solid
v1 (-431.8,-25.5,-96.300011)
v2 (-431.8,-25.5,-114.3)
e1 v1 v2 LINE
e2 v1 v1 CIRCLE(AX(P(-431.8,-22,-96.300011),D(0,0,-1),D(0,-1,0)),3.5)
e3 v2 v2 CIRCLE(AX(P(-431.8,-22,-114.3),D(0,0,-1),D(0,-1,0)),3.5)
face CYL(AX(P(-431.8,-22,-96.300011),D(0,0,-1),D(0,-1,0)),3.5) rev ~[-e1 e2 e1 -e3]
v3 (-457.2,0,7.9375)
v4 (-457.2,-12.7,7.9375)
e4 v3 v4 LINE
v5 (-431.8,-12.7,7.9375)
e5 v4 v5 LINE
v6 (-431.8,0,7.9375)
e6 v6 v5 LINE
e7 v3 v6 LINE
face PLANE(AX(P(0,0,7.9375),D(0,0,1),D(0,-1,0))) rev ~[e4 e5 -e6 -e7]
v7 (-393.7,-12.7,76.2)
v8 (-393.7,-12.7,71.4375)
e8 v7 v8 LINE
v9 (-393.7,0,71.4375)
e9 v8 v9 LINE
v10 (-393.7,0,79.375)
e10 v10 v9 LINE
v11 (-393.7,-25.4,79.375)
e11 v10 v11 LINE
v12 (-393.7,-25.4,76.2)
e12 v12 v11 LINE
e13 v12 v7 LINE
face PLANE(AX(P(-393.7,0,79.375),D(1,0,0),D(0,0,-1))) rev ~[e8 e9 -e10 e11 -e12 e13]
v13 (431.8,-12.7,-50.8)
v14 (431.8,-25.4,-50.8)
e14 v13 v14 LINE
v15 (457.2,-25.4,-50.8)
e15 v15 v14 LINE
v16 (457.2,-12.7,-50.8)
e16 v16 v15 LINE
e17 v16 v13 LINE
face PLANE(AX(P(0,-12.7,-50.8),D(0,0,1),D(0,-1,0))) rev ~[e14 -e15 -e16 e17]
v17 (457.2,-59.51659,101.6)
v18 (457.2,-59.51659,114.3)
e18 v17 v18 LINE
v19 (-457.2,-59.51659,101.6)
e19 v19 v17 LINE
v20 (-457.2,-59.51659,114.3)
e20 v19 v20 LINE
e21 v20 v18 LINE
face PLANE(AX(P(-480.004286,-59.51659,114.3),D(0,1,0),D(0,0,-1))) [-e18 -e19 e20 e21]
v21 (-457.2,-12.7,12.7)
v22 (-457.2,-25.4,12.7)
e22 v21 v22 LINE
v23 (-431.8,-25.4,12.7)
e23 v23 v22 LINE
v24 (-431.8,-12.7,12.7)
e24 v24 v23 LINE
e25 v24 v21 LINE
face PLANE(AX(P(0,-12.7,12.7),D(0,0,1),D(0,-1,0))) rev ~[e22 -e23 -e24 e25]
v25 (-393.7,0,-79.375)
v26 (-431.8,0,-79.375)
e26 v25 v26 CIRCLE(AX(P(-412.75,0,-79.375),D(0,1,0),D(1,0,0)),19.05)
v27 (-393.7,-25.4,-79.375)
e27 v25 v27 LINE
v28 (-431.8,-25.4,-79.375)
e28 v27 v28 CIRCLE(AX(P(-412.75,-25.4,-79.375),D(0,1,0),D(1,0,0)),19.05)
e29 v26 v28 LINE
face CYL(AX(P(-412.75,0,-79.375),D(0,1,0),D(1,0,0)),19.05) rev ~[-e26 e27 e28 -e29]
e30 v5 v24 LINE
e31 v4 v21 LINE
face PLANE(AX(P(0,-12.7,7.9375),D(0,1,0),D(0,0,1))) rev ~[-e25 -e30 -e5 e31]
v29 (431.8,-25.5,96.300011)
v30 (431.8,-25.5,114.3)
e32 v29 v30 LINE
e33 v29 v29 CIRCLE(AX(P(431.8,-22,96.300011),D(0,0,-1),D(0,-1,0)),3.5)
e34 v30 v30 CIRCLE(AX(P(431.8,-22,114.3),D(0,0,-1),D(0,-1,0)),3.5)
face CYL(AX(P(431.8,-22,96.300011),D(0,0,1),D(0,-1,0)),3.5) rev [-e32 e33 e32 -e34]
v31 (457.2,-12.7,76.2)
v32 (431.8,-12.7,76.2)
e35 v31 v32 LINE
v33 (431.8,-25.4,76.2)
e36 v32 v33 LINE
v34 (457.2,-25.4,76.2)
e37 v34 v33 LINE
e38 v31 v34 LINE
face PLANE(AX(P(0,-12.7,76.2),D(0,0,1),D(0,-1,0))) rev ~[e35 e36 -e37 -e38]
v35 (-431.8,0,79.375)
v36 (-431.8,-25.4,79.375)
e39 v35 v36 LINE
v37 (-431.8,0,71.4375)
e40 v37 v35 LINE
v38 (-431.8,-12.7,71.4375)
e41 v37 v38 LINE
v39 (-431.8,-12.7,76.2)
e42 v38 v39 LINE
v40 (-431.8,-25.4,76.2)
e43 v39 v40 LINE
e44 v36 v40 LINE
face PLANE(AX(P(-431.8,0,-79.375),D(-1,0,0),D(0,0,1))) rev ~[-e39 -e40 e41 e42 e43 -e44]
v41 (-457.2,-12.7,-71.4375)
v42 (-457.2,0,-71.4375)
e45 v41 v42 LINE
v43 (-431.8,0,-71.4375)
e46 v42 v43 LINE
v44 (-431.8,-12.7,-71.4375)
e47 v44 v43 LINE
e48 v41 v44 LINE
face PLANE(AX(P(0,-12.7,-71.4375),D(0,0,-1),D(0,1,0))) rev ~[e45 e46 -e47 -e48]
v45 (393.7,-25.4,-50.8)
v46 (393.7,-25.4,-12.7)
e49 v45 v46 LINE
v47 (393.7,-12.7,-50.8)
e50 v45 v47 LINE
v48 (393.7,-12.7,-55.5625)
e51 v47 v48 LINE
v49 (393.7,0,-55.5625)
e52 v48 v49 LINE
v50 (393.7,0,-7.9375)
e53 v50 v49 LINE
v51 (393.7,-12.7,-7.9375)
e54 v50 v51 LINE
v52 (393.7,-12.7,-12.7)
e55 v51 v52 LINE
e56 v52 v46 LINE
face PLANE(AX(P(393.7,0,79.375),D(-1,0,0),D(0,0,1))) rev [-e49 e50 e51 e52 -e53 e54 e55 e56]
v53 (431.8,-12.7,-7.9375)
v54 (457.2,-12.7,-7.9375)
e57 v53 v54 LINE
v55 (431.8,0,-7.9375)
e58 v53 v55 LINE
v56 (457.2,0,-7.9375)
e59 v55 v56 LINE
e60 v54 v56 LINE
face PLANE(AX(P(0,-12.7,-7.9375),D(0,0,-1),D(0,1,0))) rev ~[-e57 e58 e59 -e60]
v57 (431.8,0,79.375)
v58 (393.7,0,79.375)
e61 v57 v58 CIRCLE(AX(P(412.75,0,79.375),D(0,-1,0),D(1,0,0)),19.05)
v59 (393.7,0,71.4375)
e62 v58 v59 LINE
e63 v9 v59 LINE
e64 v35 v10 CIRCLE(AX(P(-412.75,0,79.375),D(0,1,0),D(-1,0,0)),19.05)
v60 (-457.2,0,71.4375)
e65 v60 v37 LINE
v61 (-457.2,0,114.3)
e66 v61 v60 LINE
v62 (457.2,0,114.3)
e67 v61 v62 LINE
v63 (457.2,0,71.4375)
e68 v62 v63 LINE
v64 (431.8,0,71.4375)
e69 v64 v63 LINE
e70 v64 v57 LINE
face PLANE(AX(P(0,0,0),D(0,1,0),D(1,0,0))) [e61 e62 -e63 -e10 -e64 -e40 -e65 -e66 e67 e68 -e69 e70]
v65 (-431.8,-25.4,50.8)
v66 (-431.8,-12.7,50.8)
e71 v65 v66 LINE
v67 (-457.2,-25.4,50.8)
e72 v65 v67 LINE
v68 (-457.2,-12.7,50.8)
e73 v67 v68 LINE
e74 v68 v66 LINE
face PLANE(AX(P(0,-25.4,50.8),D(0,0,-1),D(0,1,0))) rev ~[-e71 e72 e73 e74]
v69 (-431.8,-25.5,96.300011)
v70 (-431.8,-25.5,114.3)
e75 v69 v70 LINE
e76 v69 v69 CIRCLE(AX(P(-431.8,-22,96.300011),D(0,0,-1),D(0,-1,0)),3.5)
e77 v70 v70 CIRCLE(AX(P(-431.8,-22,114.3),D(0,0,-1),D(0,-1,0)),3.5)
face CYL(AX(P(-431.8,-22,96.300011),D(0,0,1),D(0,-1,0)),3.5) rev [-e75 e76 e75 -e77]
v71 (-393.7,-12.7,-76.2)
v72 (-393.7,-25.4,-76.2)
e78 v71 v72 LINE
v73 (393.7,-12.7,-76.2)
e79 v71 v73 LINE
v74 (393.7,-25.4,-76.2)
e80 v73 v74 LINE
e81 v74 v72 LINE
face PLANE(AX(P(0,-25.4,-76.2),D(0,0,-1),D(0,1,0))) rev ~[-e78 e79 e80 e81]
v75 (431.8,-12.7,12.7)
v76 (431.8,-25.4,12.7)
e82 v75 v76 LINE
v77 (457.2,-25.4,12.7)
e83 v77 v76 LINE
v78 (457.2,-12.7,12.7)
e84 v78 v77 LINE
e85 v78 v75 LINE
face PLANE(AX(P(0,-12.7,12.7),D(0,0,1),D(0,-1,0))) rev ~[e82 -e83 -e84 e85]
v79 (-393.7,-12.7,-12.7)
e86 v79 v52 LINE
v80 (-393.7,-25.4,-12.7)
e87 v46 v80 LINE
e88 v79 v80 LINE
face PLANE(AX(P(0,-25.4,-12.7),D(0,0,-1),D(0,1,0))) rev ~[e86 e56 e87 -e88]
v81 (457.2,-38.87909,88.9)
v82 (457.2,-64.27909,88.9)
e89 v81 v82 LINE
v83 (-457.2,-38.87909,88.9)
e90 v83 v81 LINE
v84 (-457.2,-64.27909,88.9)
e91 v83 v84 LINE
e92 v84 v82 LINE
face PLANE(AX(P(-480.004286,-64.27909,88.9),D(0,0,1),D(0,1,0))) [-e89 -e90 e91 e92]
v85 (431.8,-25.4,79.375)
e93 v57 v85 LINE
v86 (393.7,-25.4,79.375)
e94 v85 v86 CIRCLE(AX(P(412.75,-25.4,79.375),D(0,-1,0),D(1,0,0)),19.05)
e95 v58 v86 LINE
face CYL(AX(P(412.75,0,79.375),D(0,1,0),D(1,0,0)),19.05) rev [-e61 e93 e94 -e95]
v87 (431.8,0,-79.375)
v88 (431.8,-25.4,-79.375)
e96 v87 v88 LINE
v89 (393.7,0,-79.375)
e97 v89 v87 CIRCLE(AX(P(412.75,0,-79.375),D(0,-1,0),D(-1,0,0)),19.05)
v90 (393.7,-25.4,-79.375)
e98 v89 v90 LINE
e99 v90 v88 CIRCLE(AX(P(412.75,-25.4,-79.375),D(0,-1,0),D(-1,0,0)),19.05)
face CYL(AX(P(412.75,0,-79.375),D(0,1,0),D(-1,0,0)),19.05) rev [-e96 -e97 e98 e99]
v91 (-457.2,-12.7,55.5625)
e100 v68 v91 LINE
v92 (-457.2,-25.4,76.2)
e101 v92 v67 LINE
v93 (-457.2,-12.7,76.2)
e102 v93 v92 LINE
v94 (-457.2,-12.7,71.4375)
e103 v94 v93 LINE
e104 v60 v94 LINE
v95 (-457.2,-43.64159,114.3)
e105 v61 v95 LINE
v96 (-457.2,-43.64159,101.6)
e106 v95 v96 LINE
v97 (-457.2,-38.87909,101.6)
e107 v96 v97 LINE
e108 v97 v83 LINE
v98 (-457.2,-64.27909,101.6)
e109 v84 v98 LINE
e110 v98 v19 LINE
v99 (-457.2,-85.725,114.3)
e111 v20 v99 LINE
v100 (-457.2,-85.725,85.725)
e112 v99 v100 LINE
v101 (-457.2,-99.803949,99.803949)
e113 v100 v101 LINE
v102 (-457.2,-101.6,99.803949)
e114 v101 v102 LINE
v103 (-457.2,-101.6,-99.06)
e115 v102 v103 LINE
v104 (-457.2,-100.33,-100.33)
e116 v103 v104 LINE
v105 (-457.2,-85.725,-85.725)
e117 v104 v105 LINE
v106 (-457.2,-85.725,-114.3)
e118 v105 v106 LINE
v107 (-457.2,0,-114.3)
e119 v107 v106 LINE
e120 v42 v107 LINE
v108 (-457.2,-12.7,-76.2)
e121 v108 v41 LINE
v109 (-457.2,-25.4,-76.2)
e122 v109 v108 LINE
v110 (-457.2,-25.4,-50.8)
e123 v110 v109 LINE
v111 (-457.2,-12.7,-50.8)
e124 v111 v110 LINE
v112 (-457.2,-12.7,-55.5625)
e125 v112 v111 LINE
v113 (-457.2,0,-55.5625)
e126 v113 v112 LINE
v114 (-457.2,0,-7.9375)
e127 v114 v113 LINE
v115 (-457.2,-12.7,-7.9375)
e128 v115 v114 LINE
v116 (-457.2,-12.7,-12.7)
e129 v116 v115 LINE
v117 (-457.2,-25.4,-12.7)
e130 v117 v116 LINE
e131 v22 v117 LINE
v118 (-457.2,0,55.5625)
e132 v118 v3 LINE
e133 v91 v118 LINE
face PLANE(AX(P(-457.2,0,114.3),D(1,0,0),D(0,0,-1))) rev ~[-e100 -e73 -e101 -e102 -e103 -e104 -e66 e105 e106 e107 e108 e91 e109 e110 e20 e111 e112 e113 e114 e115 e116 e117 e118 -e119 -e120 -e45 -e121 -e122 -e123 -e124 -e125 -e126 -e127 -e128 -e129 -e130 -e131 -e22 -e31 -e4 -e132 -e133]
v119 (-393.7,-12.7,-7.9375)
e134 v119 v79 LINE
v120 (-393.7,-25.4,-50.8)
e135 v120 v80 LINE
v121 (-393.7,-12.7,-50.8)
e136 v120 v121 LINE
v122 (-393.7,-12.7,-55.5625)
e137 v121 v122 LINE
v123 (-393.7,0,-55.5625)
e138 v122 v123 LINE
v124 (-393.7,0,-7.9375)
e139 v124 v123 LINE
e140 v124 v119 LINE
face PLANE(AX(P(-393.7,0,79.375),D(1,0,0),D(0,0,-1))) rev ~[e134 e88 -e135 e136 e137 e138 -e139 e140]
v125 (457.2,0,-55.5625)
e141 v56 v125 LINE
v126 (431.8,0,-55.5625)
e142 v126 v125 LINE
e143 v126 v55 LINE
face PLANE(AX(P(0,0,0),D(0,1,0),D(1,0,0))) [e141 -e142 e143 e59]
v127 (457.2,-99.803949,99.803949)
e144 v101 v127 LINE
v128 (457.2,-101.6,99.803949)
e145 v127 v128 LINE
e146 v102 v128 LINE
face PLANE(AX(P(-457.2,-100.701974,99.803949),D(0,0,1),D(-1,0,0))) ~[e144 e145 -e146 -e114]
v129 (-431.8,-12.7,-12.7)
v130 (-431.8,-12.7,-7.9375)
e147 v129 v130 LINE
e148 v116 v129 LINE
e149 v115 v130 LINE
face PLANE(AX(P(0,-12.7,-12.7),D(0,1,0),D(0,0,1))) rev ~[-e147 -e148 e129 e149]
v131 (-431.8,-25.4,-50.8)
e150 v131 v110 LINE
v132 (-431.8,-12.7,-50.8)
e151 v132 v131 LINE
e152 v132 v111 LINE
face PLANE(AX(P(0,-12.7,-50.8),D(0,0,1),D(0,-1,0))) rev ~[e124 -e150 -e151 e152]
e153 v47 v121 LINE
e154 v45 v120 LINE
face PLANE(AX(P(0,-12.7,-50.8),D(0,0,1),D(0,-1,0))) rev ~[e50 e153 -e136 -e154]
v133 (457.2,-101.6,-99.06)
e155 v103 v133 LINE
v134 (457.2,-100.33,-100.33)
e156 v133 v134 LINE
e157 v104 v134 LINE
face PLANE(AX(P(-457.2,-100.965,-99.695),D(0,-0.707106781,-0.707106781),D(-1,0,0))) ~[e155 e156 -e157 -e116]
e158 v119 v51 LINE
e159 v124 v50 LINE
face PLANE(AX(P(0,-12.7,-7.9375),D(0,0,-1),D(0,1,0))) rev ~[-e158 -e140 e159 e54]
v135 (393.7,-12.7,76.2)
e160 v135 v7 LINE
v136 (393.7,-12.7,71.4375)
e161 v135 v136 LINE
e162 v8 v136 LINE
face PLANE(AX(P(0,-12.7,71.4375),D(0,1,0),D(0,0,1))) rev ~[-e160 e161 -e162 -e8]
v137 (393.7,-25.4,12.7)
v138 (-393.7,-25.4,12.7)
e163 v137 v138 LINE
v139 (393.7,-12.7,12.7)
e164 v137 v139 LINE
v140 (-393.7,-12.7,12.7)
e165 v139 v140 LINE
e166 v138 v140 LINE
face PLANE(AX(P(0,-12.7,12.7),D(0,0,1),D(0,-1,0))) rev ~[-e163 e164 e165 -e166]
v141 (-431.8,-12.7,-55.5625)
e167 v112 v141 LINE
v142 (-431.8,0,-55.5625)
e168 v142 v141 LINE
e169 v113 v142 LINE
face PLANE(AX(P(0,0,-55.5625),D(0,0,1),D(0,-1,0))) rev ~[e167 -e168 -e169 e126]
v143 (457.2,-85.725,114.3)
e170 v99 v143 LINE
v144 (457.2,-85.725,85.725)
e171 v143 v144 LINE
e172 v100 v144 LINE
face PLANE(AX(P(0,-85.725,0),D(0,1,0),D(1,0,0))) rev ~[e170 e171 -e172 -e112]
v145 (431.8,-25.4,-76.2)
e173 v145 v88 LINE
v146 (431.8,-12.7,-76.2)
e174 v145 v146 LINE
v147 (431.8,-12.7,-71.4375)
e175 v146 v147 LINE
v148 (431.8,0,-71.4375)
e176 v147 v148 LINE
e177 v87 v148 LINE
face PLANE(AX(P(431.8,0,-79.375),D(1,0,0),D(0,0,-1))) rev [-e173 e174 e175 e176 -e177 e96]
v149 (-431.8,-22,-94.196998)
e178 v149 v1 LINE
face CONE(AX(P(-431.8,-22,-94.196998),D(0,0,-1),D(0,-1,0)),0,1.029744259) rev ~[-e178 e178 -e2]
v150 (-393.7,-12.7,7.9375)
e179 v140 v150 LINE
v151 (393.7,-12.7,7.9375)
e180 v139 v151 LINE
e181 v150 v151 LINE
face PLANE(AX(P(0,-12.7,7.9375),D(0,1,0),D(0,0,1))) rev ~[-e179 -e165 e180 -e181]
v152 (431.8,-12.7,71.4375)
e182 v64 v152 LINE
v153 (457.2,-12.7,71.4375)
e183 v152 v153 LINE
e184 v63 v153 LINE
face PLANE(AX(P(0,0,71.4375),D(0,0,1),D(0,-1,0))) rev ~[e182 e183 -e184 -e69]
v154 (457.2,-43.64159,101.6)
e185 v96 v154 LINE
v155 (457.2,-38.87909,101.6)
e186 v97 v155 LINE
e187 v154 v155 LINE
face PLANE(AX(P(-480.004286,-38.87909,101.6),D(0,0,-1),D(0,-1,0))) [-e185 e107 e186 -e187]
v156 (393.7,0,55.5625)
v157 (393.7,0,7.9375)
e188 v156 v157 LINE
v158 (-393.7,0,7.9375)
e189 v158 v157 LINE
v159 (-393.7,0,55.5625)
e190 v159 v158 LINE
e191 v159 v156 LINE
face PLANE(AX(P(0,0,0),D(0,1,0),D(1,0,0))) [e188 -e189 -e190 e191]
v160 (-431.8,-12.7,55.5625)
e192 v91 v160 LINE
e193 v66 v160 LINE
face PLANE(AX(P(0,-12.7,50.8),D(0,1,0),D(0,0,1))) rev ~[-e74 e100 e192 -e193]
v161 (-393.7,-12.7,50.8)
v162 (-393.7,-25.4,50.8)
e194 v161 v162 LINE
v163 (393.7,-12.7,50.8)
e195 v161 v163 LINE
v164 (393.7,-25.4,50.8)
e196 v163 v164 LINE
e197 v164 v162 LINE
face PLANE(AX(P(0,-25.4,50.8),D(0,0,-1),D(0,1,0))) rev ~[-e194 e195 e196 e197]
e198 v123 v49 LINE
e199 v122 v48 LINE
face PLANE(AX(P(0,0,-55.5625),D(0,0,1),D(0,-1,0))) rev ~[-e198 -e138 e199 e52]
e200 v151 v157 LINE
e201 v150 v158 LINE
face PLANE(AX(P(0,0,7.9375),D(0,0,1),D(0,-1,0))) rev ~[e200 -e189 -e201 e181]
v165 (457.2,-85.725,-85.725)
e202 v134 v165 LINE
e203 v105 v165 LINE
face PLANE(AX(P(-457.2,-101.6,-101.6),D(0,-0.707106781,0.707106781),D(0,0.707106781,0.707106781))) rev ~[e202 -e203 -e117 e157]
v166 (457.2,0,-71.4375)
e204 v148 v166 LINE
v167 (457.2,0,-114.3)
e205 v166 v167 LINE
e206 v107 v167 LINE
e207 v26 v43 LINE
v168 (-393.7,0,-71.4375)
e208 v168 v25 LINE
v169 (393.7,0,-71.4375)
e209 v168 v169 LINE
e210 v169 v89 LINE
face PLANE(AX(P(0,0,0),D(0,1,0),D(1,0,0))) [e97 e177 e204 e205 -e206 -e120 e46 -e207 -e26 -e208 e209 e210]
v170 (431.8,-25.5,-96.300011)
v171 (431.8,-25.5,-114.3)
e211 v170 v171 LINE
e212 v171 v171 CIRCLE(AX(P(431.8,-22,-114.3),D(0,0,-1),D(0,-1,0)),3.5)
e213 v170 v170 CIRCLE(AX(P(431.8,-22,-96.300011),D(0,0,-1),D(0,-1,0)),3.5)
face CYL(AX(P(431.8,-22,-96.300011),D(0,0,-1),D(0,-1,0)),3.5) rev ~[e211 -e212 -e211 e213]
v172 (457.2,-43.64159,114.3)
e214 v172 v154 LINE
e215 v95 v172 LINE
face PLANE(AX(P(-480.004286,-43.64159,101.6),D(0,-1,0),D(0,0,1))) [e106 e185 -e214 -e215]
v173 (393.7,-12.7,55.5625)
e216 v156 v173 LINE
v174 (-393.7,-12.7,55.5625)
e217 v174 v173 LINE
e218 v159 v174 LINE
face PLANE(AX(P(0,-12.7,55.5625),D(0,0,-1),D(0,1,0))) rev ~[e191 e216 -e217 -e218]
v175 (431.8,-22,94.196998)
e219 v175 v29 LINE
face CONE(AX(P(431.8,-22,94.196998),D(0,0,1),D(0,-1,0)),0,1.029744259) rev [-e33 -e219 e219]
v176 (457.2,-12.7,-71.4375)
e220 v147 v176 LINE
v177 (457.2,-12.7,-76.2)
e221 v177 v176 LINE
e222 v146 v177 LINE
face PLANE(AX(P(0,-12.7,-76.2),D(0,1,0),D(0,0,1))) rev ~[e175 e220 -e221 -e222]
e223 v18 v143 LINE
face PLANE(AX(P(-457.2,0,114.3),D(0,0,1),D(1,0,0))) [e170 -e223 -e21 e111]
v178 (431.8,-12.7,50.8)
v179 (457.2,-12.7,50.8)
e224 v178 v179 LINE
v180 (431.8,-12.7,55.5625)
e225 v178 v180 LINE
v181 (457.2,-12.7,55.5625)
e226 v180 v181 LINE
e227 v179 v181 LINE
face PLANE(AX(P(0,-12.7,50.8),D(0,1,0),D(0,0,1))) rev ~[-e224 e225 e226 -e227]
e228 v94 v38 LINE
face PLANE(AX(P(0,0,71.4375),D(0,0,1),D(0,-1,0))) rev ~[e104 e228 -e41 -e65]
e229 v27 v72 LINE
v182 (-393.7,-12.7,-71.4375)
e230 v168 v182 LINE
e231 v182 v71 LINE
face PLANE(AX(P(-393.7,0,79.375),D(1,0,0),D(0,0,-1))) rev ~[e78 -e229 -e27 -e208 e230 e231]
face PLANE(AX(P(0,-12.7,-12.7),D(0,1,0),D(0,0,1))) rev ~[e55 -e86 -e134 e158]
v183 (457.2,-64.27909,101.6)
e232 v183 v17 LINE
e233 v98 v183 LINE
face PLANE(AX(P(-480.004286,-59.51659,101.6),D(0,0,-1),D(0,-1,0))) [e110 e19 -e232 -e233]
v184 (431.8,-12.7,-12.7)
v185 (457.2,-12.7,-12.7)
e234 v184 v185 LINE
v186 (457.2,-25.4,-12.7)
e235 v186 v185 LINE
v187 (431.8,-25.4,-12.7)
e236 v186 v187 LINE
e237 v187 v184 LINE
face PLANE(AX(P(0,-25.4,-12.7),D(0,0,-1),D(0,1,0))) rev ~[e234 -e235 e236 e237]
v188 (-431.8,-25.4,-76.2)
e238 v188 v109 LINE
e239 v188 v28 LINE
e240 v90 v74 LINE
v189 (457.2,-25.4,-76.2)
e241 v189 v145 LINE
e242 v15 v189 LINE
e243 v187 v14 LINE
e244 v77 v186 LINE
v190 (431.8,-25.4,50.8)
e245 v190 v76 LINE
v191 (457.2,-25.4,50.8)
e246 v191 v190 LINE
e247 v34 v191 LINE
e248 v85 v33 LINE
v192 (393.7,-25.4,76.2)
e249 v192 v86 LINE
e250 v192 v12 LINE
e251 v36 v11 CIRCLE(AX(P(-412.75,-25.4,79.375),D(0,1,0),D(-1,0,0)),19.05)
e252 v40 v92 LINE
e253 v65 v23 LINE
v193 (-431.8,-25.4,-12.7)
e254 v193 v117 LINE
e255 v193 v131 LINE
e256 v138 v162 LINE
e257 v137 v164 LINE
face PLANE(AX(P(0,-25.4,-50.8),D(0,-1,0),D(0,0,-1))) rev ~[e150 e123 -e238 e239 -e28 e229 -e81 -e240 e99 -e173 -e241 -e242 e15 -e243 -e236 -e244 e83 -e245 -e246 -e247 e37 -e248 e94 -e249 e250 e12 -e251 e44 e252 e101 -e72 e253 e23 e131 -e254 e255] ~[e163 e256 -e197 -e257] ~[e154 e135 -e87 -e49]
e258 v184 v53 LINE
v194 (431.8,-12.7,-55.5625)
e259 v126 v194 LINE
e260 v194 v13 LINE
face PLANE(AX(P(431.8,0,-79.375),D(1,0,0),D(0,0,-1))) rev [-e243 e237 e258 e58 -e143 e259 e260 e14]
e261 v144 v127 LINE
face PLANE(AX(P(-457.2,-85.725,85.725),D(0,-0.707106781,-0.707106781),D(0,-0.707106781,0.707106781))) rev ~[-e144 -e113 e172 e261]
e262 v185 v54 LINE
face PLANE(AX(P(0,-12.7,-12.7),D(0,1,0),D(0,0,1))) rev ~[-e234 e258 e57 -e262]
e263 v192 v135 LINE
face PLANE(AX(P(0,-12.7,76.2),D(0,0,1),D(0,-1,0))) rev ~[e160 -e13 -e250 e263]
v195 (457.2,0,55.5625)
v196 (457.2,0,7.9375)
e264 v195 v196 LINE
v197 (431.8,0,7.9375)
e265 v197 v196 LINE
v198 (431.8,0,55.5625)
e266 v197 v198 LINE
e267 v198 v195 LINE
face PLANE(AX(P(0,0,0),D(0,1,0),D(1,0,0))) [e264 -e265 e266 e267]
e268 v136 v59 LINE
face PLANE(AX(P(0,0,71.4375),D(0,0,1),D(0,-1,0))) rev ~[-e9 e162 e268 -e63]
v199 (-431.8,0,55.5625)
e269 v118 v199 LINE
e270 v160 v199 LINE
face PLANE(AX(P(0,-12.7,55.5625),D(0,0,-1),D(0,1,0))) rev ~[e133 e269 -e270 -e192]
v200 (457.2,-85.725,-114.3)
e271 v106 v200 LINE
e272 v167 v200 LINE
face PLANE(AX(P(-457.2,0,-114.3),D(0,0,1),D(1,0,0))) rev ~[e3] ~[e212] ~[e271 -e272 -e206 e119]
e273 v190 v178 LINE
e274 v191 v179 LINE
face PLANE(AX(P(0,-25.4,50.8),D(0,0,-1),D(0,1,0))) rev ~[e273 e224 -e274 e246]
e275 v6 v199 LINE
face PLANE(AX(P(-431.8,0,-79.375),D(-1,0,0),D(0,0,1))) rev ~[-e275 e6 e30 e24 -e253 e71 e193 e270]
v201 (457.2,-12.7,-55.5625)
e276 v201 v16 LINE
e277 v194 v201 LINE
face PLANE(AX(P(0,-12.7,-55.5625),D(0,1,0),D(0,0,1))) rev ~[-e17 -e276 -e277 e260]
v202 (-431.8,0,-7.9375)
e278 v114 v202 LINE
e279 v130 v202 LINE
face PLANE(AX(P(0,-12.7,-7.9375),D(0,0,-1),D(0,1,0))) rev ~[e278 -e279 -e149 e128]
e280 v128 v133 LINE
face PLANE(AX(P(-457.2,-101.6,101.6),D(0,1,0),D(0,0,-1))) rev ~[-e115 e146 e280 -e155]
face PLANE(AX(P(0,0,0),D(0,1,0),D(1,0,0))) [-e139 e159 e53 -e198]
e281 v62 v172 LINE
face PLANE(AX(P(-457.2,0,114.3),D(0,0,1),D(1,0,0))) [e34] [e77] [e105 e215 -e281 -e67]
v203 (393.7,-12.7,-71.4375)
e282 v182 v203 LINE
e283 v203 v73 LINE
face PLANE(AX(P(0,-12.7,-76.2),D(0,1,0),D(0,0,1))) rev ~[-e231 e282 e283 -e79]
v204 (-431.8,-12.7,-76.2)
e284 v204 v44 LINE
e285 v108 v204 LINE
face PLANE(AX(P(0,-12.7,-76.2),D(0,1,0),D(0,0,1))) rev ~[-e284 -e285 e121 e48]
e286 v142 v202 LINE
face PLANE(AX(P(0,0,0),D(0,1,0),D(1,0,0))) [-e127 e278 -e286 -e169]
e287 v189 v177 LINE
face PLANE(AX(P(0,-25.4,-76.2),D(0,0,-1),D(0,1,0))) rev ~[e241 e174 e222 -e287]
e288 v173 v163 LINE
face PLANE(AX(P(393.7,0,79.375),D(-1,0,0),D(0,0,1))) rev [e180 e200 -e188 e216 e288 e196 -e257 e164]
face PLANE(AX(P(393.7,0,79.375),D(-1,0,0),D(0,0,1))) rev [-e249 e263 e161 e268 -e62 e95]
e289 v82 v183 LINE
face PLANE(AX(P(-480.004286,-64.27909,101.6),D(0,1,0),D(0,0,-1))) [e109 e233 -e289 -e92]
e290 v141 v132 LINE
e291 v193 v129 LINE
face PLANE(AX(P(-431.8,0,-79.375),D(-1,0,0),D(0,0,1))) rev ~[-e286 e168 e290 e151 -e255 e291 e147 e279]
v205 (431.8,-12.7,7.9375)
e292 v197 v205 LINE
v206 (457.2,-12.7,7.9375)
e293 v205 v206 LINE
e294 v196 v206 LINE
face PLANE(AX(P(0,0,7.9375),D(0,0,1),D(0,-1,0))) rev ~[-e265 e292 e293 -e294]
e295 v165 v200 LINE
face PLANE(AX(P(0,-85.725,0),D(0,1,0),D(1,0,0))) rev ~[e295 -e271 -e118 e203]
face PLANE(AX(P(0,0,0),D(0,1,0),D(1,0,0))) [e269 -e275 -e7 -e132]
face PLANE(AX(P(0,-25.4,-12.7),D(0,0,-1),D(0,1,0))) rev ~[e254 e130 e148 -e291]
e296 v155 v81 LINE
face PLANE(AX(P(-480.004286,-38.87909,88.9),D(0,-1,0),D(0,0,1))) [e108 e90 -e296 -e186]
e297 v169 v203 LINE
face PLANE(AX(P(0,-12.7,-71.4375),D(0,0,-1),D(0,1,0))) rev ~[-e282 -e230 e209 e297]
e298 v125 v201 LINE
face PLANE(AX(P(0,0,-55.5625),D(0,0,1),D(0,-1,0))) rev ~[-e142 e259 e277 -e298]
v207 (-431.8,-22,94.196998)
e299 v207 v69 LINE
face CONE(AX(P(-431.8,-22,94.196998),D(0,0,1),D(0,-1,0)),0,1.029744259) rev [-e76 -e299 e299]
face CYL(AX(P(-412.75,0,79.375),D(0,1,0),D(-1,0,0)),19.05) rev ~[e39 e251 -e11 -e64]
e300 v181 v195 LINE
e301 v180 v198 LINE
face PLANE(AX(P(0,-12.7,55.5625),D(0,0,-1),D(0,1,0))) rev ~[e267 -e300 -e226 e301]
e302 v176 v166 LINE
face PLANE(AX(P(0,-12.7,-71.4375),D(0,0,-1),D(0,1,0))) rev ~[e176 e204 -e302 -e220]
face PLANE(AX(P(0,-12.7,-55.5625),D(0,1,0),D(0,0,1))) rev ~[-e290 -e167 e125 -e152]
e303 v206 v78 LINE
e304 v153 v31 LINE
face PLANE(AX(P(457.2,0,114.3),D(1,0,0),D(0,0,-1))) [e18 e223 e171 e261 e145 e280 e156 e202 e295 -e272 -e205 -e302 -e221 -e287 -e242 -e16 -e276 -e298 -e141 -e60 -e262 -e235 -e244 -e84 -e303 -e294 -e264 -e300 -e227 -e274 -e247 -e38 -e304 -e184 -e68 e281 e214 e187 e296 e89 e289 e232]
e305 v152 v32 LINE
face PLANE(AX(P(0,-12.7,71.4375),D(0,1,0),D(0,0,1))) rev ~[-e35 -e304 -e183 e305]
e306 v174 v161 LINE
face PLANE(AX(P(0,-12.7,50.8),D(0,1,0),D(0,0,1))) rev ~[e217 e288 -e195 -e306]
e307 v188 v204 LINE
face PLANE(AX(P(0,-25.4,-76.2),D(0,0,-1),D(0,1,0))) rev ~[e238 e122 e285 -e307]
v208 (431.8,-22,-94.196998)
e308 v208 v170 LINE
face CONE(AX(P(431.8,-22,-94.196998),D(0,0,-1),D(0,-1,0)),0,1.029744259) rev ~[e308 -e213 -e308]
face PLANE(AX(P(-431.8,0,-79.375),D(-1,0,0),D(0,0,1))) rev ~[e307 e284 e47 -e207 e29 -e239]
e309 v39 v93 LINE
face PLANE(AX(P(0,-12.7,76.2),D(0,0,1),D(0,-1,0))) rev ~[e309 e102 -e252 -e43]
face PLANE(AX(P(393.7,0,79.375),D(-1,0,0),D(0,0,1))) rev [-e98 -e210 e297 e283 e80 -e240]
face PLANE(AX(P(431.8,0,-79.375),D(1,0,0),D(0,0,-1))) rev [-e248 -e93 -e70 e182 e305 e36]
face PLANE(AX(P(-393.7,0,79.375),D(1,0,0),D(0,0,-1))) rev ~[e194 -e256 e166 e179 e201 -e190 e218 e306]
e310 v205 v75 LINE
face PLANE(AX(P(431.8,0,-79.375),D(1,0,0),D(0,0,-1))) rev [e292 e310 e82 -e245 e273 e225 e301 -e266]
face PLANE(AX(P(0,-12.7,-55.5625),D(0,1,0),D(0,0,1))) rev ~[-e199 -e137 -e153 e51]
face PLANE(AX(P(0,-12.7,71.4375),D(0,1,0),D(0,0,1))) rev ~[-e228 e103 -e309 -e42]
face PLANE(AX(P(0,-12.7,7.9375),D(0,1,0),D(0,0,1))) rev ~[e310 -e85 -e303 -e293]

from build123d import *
from OCP.BRepFilletAPI import BRepFilletAPI_MakeChamfer

# Parameters (mm, degrees)
SKETCH1_W                      = 914.4
SKETCH1_H                      = 228.6
EXTRUDE1_DEPTH                 = 85.725
CUT_EXTRUDE1_DEPTH             = 480.004285602
LPATTERN1_COUNT                = 2
LPATTERN1_PITCH                = 63.5
LPATTERN1_COL_COUNT            = 2
LPATTERN1_COL_PITCH            = 63.5
CUT_EXTRUDE2_DEPTH             = 480.004285602
CUT_EXTRUDE2_DEPTH_BACK        = 480.004285602
EXTRUDE2_DEPTH                 = 457.2
EXTRUDE2_DEPTH_BACK            = 457.2
CHAMFER1_SIZE                  = 2.54
CHAMFER1_SIZE2                 = 1.796051224
CUT_EXTRUDE3_REACH             = 484.098
M8X1_0_TAPPED_HOLE1_AT_2_COUNT = 2
M8X1_0_TAPPED_HOLE1_AT_2_PITCH = 863.6


with BuildPart() as part:
    # Sketch1 → Extrude1 (new body)
    with BuildSketch(Plane(origin=(0, 0, 0), x_dir=(1, 0, 0), z_dir=(0, 1, 0))):
        Rectangle(SKETCH1_W, SKETCH1_H)
    extrude(amount=-EXTRUDE1_DEPTH)

    # Sketch2 → Cut-Extrude1 (cut, symmetric)
    with BuildSketch(Plane(origin=(0, 0, 0), x_dir=(0, 0, -1), z_dir=(1, 0, 0))):
        Polygon((12.7, -25.4), (12.7, -12.7), (7.9375, -12.7), (7.9375, 0), (-7.9375, 0), (-7.9375, -12.7), (-12.7, -12.7), (-12.7, -25.4), align=None)
    cut_extrude1 = extrude(amount=CUT_EXTRUDE1_DEPTH, both=True, mode=Mode.SUBTRACT)

    # LPattern1: Cut-Extrude1 ×2
    with Locations(*[(0, 0, -i * LPATTERN1_PITCH) for i in range(1, LPATTERN1_COUNT)]):
        add(cut_extrude1, mode=Mode.SUBTRACT)

    # LPattern1 col: Cut-Extrude1 ×2
    with Locations(*[(0, 0, i * LPATTERN1_COL_PITCH) for i in range(1, LPATTERN1_COL_COUNT)]):
        add(cut_extrude1, mode=Mode.SUBTRACT)

    # Sketch3 → Cut-Extrude2 (cut, two sides: drawn at the far end of the back side and taken through both)
    with BuildSketch(Plane(origin=(0, 0, 0), x_dir=(0, 0, -1), z_dir=(1, 0, 0)).offset(-CUT_EXTRUDE2_DEPTH_BACK)):
        Polygon((-114.3, -59.51659036), (-101.6, -59.51659036), (-101.6, -64.27909036), (-88.9, -64.27909036), (-88.9, -38.87909036), (-101.6, -38.87909036), (-101.6, -43.64159036), (-114.3, -43.64159036), align=None)
    extrude(amount=CUT_EXTRUDE2_DEPTH + CUT_EXTRUDE2_DEPTH_BACK, mode=Mode.SUBTRACT)

    # Sketch4 → Extrude2 (add, two sides: drawn at the far end of the back side and taken through both)
    with BuildSketch(Plane(origin=(0, 0, 0), x_dir=(0, 0, -1), z_dir=(1, 0, 0)).offset(-EXTRUDE2_DEPTH_BACK)):
        Polygon((-85.725, -85.725), (-101.6, -101.6), (101.6, -101.6), (85.725, -85.725), align=None)
    extrude(amount=EXTRUDE2_DEPTH + EXTRUDE2_DEPTH_BACK)

    # Chamfer1: one chamfer whose edges measure the first distance from different faces: ONE call of the kernel's chamfer builder (chamfer() names one face for all edges)
    chamfer1_edges_1 = [part.edges().sort_by_distance(p)[0] for p in [
        (0, -101.6, -101.6),
    ]]
    chamfer1_side_1 = [part.faces().sort_by_distance(p)[0] for p in [
        (0, -101.6, 0),
    ]]
    chamfer1_edges_2 = [part.edges().sort_by_distance(p)[0] for p in [
        (0, -101.6, 101.6),
    ]]
    chamfer1_side_2 = [part.faces().sort_by_distance(p)[0] for p in [
        (0, -93.6625, 93.6625),
    ]]
    chamfer1 = BRepFilletAPI_MakeChamfer(part.part.solid().wrapped)
    for e in chamfer1_edges_1:
        chamfer1.Add(CHAMFER1_SIZE, CHAMFER1_SIZE2, e.wrapped, chamfer1_side_1[0].wrapped)  # the first distance lies on this face
    for e in chamfer1_edges_2:
        chamfer1.Add(CHAMFER1_SIZE, CHAMFER1_SIZE2, e.wrapped, chamfer1_side_2[0].wrapped)  # the first distance lies on this face
    add(Compound.cast(chamfer1.Shape()), mode=Mode.REPLACE)

    # Cut-Extrude3: up to this face of the body (flat: up to its plane)
    cut_extrude3_end = Plane(part.part.faces().sort_by_distance((0, -25.4, 63.5))[0])
    # Sketch5 → Cut-Extrude3 (cut, up to the picked face)
    with BuildSketch(Plane(origin=(0, 0, 0), x_dir=(-1, 0, 0), z_dir=(0, 1, 0)), mode=Mode.PRIVATE) as cut_extrude3_sk1:
        with BuildLine():
            Line((431.8, -79.375), (431.8, 79.375))
            ThreePointArc((431.8, 79.375), (412.75, 98.425), (393.7, 79.375))
            Line((393.7, 79.375), (393.7, -79.375))
            ThreePointArc((393.7, -79.375), (412.75, -98.425), (431.8, -79.375))
        make_face()
    cut_extrude3_tool1 = split(extrude(cut_extrude3_sk1.sketch, amount=-CUT_EXTRUDE3_REACH, mode=Mode.PRIVATE), bisect_by=cut_extrude3_end, keep=Keep.BOTH, mode=Mode.PRIVATE)
    cut_extrude3 = cut_extrude3_tool1.solids().sort_by(Axis((-412.75, 0, 0), (0, -1, 0)))[0]
    add(cut_extrude3, mode=Mode.SUBTRACT)

    # Mirror1: Cut-Extrude3 across plane
    add(cut_extrude3.mirror(Plane(origin=(0, 0, 0), x_dir=(0, 0, 1), z_dir=(1, 0, 0))), mode=Mode.SUBTRACT)

    # Sketch6 → M8x1.0 Tapped Hole1 (revolve, cut)
    with BuildSketch(Plane(origin=(431.8, -22, 114.3), x_dir=(0, -1, 0), z_dir=(1, 0, 0))):
        Polygon((0, 0), (0, 20.103001567), (3.5, 17.9999894), (3.5, 0), align=None)
    m8x1_0_tapped_hole1 = revolve(axis=Axis((431.8, -22, 120.65), (0, 0, -1)), mode=Mode.SUBTRACT)

    # M8x1.0 Tapped Hole1 at 2: M8x1.0 Tapped Hole1 ×2
    with Locations(*[(-i * M8X1_0_TAPPED_HOLE1_AT_2_PITCH, 0, 0) for i in range(1, M8X1_0_TAPPED_HOLE1_AT_2_COUNT)]):
        add(m8x1_0_tapped_hole1, mode=Mode.SUBTRACT)

    # Mirror2: M8x1.0 Tapped Hole1 across plane
    add(m8x1_0_tapped_hole1.mirror(Plane.XY), mode=Mode.SUBTRACT)

    # Mirror2 copy 1 sketch → Mirror2 copy 1 (revolve, cut)
    with BuildSketch(Plane(origin=(-431.8, -22, -114.3), x_dir=(0, -1, 0), z_dir=(1, 0, 0))):
        Polygon((0, 0), (0, -20.103001567), (3.5, -17.9999894), (3.5, 0), align=None)
    revolve(axis=Axis((-431.8, -22, -120.65), (0, 0, -1)), mode=Mode.SUBTRACT)


solid = part.part
